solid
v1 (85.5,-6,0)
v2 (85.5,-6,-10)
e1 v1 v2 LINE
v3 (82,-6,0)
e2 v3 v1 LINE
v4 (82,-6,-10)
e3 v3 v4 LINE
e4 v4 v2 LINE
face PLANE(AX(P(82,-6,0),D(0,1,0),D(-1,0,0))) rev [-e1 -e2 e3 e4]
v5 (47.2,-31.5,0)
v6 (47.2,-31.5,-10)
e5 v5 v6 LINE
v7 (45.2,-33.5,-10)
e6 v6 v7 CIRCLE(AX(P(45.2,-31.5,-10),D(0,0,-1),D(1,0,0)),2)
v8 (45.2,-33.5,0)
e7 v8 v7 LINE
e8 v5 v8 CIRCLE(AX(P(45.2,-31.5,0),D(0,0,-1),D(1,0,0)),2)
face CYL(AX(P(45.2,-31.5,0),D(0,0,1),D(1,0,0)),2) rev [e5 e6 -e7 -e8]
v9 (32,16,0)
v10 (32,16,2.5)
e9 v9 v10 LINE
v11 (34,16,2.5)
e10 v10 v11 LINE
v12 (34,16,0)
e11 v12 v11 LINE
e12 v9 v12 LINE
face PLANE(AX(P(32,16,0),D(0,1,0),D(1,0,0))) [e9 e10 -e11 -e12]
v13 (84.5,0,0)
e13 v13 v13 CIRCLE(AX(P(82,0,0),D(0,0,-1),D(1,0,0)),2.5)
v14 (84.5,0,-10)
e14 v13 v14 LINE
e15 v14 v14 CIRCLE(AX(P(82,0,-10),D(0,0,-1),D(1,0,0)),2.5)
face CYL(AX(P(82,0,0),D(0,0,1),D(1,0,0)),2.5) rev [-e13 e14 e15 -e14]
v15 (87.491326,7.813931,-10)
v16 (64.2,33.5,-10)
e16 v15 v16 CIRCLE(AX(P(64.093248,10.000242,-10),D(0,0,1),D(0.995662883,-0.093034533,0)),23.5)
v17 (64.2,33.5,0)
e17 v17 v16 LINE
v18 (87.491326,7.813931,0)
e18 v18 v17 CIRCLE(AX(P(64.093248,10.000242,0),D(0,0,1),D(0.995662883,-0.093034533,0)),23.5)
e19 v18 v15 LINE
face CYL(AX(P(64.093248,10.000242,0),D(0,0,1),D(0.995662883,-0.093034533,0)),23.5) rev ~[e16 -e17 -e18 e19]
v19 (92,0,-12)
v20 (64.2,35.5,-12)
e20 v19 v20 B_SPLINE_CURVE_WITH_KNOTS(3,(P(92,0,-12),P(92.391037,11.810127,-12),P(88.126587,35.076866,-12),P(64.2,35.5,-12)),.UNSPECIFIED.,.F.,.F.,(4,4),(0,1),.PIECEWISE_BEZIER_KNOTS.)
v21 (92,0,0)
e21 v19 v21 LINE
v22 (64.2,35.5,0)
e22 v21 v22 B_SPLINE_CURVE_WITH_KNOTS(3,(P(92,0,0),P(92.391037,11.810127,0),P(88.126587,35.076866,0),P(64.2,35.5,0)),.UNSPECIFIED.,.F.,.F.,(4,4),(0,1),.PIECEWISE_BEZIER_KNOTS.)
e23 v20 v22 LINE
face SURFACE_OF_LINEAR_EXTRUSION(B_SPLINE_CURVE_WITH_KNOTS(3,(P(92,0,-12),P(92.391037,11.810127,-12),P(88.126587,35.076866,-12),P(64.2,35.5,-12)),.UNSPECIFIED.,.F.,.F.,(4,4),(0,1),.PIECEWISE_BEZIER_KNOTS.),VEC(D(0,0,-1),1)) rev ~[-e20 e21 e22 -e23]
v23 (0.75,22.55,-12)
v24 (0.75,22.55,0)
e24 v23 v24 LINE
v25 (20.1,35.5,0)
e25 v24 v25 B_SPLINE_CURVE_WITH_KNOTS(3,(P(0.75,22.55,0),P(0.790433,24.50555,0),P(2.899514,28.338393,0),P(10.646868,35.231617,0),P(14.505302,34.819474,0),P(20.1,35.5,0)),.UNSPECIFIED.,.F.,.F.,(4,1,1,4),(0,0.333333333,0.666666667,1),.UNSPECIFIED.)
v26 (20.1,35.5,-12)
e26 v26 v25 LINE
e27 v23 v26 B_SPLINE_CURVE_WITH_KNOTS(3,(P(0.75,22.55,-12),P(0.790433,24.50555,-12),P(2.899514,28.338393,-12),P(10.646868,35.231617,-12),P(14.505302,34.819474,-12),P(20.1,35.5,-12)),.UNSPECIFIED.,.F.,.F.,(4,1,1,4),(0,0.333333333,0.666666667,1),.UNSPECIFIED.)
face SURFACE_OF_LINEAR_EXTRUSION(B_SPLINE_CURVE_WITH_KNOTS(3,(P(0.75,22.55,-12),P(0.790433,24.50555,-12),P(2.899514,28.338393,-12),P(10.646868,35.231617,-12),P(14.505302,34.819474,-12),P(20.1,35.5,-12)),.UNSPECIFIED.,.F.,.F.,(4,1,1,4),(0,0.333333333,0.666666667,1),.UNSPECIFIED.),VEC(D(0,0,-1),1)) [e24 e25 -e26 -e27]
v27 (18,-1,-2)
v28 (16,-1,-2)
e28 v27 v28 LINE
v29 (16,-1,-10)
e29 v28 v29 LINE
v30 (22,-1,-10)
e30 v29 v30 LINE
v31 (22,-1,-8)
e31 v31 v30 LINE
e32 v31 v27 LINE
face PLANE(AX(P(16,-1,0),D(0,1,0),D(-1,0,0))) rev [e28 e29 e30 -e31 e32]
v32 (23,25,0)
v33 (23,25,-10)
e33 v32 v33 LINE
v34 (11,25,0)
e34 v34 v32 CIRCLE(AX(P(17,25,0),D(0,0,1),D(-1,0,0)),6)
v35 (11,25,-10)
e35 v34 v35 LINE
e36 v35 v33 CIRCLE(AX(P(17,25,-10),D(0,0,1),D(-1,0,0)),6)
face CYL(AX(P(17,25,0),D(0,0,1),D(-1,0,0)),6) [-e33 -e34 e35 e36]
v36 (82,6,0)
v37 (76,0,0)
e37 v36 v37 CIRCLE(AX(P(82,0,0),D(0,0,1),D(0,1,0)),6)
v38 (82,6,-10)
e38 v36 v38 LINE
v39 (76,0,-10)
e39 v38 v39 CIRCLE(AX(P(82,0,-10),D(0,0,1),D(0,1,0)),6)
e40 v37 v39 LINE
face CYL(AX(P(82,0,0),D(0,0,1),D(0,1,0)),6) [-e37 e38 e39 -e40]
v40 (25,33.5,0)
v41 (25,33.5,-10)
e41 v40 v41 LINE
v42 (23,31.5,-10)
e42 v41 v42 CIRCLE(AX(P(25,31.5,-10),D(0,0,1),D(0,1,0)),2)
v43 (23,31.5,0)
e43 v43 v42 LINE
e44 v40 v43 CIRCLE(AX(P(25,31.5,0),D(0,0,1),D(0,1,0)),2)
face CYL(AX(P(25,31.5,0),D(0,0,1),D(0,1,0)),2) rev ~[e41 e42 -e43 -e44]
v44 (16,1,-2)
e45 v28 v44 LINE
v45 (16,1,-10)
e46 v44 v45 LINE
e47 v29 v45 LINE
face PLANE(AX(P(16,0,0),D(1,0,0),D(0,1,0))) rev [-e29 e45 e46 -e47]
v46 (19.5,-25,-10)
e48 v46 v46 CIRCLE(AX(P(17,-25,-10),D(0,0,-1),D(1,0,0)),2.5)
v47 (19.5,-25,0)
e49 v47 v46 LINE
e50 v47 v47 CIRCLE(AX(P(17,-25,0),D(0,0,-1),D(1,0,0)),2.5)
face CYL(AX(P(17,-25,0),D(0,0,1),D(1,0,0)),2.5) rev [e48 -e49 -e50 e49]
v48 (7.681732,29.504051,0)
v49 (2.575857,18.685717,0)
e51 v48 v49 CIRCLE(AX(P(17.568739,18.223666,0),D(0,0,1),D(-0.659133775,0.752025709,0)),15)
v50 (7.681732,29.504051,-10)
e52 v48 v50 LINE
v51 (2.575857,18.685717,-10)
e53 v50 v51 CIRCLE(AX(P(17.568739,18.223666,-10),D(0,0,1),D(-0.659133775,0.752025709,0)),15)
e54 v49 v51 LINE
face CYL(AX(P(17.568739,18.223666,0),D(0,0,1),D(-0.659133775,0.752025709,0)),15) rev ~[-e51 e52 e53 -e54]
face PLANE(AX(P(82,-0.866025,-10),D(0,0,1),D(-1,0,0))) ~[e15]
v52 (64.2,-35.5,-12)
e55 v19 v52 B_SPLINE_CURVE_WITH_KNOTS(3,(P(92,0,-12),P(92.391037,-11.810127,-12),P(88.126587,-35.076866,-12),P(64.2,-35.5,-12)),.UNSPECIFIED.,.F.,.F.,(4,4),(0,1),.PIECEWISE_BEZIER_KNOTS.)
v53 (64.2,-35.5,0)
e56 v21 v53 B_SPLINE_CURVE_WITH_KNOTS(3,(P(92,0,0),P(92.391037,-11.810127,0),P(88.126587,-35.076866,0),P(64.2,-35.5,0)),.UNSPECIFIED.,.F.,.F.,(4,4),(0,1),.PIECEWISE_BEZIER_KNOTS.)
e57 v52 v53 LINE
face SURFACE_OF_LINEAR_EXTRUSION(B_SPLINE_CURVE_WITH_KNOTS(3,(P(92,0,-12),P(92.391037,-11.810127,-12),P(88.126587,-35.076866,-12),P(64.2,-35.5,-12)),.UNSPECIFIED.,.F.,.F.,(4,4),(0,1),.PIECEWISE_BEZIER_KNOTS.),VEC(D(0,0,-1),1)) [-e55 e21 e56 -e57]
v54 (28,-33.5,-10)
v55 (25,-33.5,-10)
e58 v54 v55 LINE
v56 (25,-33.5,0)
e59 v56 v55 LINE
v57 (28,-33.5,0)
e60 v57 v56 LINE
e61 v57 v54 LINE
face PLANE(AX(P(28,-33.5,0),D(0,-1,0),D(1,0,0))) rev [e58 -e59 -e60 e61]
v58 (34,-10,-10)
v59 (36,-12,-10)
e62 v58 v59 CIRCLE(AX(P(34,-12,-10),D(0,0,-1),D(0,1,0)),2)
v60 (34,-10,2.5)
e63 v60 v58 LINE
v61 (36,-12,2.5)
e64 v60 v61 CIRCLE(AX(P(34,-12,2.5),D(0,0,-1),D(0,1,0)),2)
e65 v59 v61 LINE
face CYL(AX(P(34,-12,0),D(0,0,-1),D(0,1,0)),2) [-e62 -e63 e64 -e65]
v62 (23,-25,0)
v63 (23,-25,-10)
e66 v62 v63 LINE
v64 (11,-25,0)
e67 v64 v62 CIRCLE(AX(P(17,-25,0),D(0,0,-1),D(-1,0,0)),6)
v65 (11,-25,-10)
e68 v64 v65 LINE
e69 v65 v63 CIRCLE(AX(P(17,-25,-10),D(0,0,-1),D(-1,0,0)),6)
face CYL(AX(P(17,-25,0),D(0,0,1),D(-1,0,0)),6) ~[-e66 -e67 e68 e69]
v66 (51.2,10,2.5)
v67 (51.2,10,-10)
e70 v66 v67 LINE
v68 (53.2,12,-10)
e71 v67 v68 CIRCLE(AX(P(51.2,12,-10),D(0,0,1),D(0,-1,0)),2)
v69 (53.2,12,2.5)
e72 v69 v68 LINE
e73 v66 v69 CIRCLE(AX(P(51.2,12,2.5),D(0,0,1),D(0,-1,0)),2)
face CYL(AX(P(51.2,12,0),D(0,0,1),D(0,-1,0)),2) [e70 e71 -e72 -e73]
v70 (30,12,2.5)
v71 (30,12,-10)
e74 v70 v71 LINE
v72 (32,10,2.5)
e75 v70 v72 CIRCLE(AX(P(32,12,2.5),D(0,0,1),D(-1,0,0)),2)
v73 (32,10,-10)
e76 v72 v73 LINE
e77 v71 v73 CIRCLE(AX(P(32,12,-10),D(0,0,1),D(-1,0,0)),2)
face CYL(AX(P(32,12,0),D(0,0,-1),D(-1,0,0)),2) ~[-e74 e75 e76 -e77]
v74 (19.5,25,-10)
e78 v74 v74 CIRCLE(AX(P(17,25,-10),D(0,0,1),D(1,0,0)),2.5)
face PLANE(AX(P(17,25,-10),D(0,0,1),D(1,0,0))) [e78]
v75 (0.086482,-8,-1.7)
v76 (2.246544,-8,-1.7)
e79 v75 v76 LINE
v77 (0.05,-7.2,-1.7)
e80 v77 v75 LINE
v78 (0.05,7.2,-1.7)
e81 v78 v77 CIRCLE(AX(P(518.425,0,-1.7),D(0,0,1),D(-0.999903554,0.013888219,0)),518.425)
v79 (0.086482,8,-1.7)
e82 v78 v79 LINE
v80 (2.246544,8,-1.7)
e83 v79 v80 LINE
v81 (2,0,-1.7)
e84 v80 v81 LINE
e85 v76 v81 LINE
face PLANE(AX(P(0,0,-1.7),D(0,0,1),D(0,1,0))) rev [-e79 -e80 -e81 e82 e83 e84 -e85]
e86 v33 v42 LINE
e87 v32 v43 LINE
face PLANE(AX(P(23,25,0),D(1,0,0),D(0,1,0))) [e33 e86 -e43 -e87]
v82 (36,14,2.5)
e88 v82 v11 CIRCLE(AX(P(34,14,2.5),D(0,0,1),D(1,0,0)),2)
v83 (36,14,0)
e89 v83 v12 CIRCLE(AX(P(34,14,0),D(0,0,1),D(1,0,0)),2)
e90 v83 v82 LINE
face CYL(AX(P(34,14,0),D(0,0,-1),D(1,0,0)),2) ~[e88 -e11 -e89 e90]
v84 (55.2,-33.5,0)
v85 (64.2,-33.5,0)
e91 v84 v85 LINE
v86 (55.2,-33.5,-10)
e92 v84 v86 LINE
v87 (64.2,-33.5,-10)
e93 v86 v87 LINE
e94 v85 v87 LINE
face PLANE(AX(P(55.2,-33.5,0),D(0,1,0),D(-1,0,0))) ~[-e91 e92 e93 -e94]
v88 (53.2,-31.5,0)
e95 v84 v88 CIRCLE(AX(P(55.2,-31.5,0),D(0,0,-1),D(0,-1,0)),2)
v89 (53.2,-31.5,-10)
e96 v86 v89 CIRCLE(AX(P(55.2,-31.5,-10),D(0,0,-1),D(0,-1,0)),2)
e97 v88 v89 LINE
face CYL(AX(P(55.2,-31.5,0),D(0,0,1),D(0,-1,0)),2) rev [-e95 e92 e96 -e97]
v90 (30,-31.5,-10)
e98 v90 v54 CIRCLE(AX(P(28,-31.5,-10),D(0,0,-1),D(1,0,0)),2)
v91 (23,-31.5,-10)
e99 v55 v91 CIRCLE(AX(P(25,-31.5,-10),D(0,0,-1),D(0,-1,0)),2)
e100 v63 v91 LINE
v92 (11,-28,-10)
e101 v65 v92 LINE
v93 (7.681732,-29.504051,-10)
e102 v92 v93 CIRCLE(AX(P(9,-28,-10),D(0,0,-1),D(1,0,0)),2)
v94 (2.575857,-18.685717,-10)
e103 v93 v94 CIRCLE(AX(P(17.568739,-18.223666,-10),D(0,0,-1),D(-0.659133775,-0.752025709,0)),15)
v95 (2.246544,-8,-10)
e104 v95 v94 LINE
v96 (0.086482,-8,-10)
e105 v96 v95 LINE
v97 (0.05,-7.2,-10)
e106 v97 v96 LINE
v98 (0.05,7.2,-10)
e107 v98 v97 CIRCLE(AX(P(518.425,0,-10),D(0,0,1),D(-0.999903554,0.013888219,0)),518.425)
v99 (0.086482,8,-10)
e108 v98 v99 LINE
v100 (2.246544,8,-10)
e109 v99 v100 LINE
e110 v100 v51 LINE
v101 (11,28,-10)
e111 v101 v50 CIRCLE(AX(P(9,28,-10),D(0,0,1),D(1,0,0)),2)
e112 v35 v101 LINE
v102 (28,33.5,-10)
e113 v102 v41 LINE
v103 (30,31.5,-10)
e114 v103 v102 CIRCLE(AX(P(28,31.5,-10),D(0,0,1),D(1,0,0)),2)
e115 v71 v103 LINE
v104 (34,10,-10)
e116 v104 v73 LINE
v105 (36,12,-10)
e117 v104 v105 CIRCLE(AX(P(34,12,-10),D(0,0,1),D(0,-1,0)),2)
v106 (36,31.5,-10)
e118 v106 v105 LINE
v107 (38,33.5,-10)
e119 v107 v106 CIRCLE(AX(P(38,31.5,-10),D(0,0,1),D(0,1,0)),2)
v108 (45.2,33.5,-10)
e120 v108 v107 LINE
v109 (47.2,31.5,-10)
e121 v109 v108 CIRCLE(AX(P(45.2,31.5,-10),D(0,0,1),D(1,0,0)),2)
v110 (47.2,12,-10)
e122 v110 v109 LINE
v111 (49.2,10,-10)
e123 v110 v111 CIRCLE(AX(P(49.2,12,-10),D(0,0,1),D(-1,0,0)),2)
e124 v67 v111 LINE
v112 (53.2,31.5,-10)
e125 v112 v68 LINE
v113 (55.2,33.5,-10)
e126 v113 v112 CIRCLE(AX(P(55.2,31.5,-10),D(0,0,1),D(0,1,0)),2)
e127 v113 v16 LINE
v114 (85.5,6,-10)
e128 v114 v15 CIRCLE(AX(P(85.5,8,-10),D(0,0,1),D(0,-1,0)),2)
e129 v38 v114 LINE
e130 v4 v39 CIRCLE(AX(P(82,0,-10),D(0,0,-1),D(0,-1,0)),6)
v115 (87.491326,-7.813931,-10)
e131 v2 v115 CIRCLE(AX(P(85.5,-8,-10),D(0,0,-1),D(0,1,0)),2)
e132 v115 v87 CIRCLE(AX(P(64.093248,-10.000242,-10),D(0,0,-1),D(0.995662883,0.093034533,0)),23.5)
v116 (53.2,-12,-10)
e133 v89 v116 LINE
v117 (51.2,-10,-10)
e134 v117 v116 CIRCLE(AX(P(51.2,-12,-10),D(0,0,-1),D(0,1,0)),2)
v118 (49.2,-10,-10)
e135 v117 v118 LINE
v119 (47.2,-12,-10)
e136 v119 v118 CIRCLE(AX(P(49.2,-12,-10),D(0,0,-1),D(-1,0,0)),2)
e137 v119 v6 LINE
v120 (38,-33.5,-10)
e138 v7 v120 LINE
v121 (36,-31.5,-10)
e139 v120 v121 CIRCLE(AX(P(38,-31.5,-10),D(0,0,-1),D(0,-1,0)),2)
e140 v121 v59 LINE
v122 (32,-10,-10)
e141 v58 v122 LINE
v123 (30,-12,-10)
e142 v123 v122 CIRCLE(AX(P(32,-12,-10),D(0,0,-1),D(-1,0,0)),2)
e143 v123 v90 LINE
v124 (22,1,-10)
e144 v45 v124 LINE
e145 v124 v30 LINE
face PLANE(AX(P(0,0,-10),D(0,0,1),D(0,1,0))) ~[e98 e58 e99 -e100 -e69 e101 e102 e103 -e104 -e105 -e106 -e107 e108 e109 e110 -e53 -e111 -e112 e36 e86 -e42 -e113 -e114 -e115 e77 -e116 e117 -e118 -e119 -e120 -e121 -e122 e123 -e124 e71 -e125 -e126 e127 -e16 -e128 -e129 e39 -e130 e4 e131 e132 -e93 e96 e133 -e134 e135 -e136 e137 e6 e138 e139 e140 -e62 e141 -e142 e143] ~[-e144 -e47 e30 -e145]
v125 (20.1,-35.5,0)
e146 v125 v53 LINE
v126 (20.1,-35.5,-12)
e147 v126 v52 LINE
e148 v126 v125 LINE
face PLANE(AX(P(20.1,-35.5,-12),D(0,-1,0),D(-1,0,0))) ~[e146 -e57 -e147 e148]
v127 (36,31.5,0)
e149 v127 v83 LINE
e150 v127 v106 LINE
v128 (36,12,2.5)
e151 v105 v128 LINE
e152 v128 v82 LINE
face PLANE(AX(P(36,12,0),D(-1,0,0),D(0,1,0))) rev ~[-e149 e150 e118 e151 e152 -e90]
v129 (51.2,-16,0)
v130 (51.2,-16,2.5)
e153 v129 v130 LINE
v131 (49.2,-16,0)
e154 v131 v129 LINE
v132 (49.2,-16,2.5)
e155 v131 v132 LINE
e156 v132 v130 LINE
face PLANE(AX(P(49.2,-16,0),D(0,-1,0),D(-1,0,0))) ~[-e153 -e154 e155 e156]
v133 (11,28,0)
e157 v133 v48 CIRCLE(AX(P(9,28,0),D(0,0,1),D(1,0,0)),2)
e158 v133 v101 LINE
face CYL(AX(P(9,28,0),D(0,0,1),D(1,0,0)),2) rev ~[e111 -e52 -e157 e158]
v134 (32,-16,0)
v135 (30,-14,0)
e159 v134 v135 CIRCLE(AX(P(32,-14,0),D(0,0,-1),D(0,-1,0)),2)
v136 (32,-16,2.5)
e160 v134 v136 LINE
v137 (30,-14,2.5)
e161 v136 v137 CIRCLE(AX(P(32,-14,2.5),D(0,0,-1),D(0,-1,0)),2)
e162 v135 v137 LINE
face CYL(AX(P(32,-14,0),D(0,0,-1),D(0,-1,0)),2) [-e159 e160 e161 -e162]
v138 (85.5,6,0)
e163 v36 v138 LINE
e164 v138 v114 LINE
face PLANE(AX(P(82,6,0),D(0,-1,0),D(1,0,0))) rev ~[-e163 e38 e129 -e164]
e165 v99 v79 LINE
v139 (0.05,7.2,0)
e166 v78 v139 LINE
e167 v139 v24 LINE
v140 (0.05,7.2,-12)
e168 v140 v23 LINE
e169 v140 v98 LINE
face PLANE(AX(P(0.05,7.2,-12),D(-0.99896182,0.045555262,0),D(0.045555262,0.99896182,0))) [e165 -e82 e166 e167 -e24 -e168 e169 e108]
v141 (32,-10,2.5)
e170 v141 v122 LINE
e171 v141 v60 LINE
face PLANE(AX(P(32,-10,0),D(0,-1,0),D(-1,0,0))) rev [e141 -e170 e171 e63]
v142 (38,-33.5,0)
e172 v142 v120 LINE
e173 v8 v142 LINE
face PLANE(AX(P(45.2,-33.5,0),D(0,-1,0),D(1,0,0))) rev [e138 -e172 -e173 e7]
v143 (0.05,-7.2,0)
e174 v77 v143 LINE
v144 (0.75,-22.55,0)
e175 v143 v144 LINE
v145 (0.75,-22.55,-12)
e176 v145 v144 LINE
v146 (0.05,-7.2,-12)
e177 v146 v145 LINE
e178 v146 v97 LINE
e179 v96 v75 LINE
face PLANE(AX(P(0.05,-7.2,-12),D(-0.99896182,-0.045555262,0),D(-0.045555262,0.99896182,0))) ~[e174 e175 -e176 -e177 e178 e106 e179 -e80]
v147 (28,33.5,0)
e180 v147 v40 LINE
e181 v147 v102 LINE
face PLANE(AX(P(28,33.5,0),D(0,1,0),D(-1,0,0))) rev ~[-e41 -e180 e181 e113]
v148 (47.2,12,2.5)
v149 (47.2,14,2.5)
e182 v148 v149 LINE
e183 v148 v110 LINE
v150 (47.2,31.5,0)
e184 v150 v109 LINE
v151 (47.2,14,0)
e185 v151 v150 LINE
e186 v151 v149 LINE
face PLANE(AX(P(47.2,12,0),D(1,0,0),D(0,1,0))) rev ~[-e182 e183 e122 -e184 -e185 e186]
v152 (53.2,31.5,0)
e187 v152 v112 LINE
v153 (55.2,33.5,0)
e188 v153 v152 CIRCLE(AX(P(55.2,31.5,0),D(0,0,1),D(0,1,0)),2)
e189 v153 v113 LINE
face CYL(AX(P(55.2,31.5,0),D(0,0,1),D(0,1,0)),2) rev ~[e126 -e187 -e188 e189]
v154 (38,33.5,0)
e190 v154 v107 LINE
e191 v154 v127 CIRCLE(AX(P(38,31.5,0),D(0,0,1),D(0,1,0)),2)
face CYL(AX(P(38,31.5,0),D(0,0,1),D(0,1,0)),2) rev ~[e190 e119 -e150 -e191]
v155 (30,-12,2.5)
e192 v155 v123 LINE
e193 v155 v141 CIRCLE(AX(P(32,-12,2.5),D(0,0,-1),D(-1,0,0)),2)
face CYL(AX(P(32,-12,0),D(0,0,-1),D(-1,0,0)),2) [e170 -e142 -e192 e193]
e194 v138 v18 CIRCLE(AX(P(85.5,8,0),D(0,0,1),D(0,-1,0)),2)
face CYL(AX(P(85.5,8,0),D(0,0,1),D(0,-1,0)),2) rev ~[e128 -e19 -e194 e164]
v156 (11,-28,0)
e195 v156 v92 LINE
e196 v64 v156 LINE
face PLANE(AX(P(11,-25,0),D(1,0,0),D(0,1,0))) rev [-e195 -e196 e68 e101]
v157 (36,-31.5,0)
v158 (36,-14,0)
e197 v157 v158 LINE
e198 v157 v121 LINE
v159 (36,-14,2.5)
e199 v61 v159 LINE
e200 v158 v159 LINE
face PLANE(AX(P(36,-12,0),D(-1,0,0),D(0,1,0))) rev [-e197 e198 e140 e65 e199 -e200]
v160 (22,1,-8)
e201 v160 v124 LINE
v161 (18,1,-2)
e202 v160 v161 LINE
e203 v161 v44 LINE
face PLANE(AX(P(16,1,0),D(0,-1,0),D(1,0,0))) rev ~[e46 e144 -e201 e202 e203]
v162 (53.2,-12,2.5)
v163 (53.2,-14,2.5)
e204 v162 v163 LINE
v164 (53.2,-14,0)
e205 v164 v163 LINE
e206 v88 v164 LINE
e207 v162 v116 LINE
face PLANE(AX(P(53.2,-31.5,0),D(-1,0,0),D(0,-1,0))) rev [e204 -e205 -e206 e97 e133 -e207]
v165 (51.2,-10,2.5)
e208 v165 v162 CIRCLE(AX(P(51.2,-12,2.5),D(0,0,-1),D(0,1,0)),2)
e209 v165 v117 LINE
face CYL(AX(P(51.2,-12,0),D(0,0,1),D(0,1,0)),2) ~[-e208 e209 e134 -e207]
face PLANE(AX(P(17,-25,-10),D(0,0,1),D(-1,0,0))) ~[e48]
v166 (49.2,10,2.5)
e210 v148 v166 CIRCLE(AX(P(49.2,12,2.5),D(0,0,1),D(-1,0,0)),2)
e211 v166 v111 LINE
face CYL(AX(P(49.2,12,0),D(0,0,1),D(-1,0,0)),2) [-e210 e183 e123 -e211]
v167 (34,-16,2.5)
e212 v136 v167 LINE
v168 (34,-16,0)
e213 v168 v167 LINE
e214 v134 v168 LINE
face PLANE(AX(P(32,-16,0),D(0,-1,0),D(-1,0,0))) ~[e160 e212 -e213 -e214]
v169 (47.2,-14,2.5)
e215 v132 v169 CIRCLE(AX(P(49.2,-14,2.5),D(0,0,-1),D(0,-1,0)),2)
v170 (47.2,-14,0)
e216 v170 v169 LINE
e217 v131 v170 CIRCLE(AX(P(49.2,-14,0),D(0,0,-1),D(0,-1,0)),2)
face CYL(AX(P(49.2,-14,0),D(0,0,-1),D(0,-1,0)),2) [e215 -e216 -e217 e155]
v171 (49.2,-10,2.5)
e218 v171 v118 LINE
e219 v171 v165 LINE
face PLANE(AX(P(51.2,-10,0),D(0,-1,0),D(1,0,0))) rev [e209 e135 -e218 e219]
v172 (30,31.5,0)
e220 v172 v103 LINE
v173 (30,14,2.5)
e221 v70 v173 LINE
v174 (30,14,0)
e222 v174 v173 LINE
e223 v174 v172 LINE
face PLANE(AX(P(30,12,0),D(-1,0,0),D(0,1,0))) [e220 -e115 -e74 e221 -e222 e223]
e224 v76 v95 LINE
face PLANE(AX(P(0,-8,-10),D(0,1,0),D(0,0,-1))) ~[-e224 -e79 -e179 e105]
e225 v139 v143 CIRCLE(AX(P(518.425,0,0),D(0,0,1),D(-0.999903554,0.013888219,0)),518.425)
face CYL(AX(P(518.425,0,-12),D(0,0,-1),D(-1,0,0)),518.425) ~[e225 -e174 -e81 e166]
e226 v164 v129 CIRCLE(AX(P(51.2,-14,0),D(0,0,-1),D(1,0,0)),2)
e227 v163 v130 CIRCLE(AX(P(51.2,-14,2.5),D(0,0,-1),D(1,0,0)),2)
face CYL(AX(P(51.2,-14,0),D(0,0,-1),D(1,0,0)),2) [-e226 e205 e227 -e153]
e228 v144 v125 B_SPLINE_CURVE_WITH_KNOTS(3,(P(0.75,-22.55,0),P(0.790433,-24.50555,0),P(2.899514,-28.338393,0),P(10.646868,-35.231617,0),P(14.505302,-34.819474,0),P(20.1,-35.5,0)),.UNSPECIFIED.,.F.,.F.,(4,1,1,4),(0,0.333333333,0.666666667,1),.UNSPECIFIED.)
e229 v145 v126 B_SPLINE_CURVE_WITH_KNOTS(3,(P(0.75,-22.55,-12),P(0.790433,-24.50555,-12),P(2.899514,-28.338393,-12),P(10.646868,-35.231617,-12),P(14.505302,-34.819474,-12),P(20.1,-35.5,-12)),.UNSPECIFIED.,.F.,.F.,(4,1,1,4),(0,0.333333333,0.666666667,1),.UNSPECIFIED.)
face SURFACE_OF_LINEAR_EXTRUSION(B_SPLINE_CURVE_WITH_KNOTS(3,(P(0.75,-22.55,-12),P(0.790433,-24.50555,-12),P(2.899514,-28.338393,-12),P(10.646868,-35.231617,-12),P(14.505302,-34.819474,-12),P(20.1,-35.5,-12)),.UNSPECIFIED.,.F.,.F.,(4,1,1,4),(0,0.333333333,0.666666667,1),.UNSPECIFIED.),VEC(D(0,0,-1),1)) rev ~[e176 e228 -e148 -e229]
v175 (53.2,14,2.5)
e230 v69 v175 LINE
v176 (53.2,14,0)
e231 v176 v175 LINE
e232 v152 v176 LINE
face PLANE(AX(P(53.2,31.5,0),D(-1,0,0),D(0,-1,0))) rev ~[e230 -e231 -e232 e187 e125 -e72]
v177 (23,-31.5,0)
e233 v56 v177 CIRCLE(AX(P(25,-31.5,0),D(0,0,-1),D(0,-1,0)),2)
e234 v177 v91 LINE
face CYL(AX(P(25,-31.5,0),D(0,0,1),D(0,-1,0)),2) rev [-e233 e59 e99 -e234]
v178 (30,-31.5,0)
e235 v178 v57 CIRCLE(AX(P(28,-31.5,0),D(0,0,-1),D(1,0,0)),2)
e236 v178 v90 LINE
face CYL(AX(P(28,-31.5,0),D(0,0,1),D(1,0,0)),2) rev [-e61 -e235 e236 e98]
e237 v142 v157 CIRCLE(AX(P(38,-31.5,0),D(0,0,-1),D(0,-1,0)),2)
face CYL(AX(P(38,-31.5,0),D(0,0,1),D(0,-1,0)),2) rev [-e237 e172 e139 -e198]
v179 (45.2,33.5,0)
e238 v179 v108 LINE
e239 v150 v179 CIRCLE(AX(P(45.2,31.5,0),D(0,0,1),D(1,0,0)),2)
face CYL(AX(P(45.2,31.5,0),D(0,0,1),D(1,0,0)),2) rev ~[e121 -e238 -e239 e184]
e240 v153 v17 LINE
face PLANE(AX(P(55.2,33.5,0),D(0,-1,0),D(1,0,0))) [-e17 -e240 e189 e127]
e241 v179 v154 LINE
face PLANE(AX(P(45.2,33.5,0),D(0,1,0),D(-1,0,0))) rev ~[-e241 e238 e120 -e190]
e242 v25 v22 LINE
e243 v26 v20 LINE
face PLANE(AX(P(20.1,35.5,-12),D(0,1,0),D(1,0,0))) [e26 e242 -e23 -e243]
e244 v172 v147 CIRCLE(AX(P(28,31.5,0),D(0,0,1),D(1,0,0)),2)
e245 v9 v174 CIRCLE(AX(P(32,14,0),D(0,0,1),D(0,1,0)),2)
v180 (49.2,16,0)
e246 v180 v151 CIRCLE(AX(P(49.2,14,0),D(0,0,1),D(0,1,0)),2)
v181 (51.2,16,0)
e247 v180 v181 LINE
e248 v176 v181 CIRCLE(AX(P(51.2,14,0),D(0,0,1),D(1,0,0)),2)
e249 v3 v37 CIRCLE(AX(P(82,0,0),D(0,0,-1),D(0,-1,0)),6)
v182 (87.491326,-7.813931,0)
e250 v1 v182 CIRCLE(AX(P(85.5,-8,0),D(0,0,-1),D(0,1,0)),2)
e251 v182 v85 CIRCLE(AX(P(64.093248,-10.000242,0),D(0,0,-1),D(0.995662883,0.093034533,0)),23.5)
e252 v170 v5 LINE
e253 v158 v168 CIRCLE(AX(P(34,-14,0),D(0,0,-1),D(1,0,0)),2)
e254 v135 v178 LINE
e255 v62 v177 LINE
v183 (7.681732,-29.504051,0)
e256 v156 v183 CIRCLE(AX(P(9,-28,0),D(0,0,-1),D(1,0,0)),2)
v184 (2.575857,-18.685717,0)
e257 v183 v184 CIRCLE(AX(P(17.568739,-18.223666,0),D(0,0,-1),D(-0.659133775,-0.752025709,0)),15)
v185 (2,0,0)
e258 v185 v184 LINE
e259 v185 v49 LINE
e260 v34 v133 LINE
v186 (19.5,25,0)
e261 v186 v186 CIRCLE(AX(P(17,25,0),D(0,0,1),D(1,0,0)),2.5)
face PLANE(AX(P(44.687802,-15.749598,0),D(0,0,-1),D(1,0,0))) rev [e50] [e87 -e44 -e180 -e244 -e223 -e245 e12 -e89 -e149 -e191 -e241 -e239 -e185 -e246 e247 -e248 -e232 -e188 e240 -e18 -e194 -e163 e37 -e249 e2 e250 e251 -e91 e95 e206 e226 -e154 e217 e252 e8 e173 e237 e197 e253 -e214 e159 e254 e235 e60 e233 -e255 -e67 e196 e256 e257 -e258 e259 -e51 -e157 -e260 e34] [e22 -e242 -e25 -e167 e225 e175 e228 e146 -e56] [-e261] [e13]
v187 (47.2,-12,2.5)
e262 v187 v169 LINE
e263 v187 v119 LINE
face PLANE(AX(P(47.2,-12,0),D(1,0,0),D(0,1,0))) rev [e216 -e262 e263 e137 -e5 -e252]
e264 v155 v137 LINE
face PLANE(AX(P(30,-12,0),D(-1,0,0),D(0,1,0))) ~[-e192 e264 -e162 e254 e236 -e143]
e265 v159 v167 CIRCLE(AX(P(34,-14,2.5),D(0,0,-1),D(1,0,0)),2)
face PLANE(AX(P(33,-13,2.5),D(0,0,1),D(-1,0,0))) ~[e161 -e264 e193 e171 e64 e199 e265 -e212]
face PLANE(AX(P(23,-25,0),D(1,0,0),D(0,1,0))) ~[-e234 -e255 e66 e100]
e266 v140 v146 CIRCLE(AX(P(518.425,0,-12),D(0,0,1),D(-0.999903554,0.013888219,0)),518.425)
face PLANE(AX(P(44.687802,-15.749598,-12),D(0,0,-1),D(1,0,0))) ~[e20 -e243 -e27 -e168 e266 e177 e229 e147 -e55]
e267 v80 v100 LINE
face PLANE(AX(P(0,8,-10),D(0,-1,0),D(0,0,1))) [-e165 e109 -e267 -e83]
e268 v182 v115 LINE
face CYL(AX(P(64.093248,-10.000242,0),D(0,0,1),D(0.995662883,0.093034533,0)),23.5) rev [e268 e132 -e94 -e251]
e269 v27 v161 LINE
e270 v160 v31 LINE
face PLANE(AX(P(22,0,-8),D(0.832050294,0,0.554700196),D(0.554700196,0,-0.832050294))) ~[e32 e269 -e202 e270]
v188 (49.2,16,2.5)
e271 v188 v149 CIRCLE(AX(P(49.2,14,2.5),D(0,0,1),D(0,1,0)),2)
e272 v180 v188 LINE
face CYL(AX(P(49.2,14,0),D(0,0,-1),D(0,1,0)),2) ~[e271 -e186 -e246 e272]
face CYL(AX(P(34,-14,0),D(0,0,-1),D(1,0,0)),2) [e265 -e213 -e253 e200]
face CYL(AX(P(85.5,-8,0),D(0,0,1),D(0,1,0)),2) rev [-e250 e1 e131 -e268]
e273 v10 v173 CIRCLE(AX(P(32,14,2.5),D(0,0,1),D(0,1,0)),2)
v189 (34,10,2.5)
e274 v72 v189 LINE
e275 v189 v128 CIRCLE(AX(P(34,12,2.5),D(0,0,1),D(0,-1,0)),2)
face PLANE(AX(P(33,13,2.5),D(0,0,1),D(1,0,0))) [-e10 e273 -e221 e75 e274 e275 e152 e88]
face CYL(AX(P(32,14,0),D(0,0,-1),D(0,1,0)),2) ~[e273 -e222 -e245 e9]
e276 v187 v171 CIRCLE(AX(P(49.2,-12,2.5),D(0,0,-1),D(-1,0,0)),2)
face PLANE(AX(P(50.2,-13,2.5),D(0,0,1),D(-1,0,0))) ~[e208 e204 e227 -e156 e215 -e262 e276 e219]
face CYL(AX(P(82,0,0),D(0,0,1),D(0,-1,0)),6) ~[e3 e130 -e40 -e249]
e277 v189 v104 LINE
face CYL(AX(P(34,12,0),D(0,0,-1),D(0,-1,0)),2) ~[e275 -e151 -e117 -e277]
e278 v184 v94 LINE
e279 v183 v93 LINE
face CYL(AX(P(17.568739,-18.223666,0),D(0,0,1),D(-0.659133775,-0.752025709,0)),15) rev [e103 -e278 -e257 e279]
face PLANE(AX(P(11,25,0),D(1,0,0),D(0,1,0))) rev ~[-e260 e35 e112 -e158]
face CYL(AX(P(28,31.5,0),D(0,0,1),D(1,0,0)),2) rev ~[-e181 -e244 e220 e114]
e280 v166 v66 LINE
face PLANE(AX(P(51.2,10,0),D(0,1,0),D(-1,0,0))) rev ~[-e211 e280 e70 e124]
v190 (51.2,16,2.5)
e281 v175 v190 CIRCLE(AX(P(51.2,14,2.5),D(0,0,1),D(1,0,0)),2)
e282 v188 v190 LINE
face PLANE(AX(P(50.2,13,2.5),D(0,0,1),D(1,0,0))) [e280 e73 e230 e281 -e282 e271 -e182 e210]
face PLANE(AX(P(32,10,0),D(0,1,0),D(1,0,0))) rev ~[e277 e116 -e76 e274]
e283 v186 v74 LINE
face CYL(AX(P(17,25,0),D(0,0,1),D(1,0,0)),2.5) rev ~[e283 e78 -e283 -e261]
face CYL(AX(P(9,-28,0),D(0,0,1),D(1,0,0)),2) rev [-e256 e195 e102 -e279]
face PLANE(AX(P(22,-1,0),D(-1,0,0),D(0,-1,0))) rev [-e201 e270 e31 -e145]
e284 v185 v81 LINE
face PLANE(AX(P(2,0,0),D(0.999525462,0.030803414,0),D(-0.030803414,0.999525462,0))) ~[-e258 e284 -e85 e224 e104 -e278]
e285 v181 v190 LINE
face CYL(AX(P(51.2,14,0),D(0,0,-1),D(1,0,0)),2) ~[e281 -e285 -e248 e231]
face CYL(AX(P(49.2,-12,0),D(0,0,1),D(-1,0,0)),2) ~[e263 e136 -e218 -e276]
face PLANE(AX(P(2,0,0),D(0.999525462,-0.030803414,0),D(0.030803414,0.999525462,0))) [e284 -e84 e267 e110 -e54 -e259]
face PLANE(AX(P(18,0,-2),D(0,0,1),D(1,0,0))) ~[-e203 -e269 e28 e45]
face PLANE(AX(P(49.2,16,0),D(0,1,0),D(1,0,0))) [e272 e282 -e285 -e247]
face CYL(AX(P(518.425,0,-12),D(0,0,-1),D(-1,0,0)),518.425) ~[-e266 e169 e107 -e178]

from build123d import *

# Parameters (mm, degrees)
PAD002_DEPTH    = 12
SKETCH017_R     = 2.5
POCKET014_DEPTH = 10
POCKET015_DEPTH = 1
SKETCH019_W     = 8
SKETCH019_H     = 8.3
POCKET016_DEPTH = 5
PAD003_DEPTH    = 2.5


with BuildPart() as part:
    # Sketch016 → Pad002 (new body)
    with BuildSketch(Plane.XY):
        with BuildLine():
            ThreePointArc((0, 0), (0.0125001507, 3.6000868045), (0.05, 7.2))
            Line((0.05, 7.2), (0.75, 22.55))
            add(Edge.make_bspline(
                [(0.75, 22.55), (0.790433, 24.50555), (2.8995135699, 28.3383927733), (10.6468681476, 35.231617337), (14.5053016695, 34.8194742751), (20.1, 35.5)],
                knots=[0, 0, 0, 0, 0.3333333333, 0.6666666667, 1, 1, 1, 1], degree=3))
            Line((20.1, 35.5), (64.2, 35.5))
            add(Edge.make_bspline(
                [(92, 0), (92.391037, 11.810127), (88.126587, 35.076866), (64.2, 35.5)],
                knots=[0, 0, 0, 0, 1, 1, 1, 1], degree=3))
            Line((92, 0), (0, 0))
        make_face()
    extrude(amount=PAD002_DEPTH)

    # Sketch017 (on Face8 of Pad002) → Pocket014 (cut)
    with BuildSketch(Plane.XY.offset(12)):
        with Locations((17, 25)):
            Circle(SKETCH017_R)
        with BuildLine():
            ThreePointArc((84.5, 0), (82, 2.5), (79.5, 0))
            Line((79.5, 0), (84.5, 0))
        make_face()
        with BuildLine():
            Line((2, 0), (2.5758571429, 18.6857169977))
            ThreePointArc((7.6817324497, 29.5040514173), (4.0036624605, 24.625907301), (2.5758571429, 18.6857169977))
            ThreePointArc((11, 28), (9.8256709089, 29.8216112511), (7.6817324497, 29.5040514173))
            Line((11, 25), (11, 28))
            ThreePointArc((11, 25), (17, 19), (23, 25))
            Line((23, 25), (23, 31.5))
            ThreePointArc((25, 33.5), (23.5857864376, 32.9142135624), (23, 31.5))
            Line((28, 33.5), (25, 33.5))
            ThreePointArc((30, 31.5), (29.4142135624, 32.9142135624), (28, 33.5))
            Line((30, 12), (30, 31.5))
            ThreePointArc((30, 12), (30.5857864376, 10.5857864376), (32, 10))
            Line((34, 10), (32, 10))
            ThreePointArc((34, 10), (35.4142135624, 10.5857864376), (36, 12))
            Line((36, 31.5), (36, 12))
            ThreePointArc((38, 33.5), (36.5857864376, 32.9142135624), (36, 31.5))
            Line((45.2, 33.5), (38, 33.5))
            ThreePointArc((47.2, 31.5), (46.6142135624, 32.9142135624), (45.2, 33.5))
            Line((47.2, 12), (47.2, 31.5))
            ThreePointArc((47.2, 12), (47.7857864376, 10.5857864376), (49.2, 10))
            Line((51.2, 10), (49.2, 10))
            ThreePointArc((51.2, 10), (52.6142135624, 10.5857864376), (53.2, 12))
            Line((53.2, 31.4999999999), (53.2, 12))
            ThreePointArc((55.2, 33.4999999999), (53.7857864376, 32.9142135623), (53.2, 31.4999999999))
            Line((55.2, 33.5), (64.2, 33.5))
            ThreePointArc((87.491325765, 7.8139309331), (81.5019467421, 25.7859071373), (64.2, 33.5))
            ThreePointArc((85.5, 6), (86.8468225322, 6.521463877), (87.491325765, 7.8139309331))
            Line((82, 6), (85.5, 6))
            ThreePointArc((82, 6), (77.7573593129, 4.2426406871), (76, 0))
            Line((22, 0), (76, 0))
            Line((22, 1), (22, 0))
            Line((16, 1), (22, 1))
            Line((16, 0), (16, 1))
            Line((2, 0), (16, 0))
        make_face()
    extrude(amount=-POCKET014_DEPTH, mode=Mode.SUBTRACT)

    # Sketch018 (on Face3 of Pocket014) → Pocket015 (cut)
    with BuildSketch(Plane.XZ):
        Polygon((22, 12), (22, 4), (18, 10), (16, 10), (16, 12), align=None)
    extrude(amount=-POCKET015_DEPTH, mode=Mode.SUBTRACT)

    # Sketch019 → Pocket016 (cut)
    with BuildSketch(Plane.YZ):
        with Locations((4, 6.15)):
            Rectangle(SKETCH019_W, SKETCH019_H)
    extrude(amount=POCKET016_DEPTH, mode=Mode.SUBTRACT)

    # Sketch022 (on Face8 of Pocket016) → Pad003 (join)
    with BuildSketch(Plane.XY.offset(12)):
        with BuildLine():
            ThreePointArc((34, 10), (35.4142135624, 10.5857864376), (36, 12))
            Line((36, 12), (36, 14))
            ThreePointArc((36, 14), (35.4142135624, 15.4142135624), (34, 16))
            Line((32, 16), (34, 16))
            ThreePointArc((32, 16), (30.5857864376, 15.4142135624), (30, 14))
            Line((30, 12), (30, 14))
            ThreePointArc((30, 12), (30.5857864376, 10.5857864376), (32, 10))
            Line((32, 10), (34, 10))
        make_face()
        with BuildLine():
            ThreePointArc((47.2, 12), (47.7857864376, 10.5857864376), (49.2, 10))
            Line((49.2, 10), (51.2, 10))
            ThreePointArc((51.2, 10), (52.6142135624, 10.5857864376), (53.2, 12))
            Line((53.2, 12), (53.2, 14))
            ThreePointArc((53.2, 14), (52.6142135624, 15.4142135624), (51.2, 16))
            Line((49.2, 16), (51.2, 16))
            ThreePointArc((49.2, 16), (47.7857864376, 15.4142135624), (47.2, 14))
            Line((47.2, 12), (47.2, 14))
        make_face()
    extrude(amount=PAD003_DEPTH)

    # Mirrored001: part across XZ


with BuildPart() as part_1:
    add(part.part)
    add(part.part.mirror(Plane.XZ))


with BuildPart() as part_2:
    # Body002 placement: moved
    add(part_1.part.moved(Location((0, 0, -12))))


solid = part_2.part
